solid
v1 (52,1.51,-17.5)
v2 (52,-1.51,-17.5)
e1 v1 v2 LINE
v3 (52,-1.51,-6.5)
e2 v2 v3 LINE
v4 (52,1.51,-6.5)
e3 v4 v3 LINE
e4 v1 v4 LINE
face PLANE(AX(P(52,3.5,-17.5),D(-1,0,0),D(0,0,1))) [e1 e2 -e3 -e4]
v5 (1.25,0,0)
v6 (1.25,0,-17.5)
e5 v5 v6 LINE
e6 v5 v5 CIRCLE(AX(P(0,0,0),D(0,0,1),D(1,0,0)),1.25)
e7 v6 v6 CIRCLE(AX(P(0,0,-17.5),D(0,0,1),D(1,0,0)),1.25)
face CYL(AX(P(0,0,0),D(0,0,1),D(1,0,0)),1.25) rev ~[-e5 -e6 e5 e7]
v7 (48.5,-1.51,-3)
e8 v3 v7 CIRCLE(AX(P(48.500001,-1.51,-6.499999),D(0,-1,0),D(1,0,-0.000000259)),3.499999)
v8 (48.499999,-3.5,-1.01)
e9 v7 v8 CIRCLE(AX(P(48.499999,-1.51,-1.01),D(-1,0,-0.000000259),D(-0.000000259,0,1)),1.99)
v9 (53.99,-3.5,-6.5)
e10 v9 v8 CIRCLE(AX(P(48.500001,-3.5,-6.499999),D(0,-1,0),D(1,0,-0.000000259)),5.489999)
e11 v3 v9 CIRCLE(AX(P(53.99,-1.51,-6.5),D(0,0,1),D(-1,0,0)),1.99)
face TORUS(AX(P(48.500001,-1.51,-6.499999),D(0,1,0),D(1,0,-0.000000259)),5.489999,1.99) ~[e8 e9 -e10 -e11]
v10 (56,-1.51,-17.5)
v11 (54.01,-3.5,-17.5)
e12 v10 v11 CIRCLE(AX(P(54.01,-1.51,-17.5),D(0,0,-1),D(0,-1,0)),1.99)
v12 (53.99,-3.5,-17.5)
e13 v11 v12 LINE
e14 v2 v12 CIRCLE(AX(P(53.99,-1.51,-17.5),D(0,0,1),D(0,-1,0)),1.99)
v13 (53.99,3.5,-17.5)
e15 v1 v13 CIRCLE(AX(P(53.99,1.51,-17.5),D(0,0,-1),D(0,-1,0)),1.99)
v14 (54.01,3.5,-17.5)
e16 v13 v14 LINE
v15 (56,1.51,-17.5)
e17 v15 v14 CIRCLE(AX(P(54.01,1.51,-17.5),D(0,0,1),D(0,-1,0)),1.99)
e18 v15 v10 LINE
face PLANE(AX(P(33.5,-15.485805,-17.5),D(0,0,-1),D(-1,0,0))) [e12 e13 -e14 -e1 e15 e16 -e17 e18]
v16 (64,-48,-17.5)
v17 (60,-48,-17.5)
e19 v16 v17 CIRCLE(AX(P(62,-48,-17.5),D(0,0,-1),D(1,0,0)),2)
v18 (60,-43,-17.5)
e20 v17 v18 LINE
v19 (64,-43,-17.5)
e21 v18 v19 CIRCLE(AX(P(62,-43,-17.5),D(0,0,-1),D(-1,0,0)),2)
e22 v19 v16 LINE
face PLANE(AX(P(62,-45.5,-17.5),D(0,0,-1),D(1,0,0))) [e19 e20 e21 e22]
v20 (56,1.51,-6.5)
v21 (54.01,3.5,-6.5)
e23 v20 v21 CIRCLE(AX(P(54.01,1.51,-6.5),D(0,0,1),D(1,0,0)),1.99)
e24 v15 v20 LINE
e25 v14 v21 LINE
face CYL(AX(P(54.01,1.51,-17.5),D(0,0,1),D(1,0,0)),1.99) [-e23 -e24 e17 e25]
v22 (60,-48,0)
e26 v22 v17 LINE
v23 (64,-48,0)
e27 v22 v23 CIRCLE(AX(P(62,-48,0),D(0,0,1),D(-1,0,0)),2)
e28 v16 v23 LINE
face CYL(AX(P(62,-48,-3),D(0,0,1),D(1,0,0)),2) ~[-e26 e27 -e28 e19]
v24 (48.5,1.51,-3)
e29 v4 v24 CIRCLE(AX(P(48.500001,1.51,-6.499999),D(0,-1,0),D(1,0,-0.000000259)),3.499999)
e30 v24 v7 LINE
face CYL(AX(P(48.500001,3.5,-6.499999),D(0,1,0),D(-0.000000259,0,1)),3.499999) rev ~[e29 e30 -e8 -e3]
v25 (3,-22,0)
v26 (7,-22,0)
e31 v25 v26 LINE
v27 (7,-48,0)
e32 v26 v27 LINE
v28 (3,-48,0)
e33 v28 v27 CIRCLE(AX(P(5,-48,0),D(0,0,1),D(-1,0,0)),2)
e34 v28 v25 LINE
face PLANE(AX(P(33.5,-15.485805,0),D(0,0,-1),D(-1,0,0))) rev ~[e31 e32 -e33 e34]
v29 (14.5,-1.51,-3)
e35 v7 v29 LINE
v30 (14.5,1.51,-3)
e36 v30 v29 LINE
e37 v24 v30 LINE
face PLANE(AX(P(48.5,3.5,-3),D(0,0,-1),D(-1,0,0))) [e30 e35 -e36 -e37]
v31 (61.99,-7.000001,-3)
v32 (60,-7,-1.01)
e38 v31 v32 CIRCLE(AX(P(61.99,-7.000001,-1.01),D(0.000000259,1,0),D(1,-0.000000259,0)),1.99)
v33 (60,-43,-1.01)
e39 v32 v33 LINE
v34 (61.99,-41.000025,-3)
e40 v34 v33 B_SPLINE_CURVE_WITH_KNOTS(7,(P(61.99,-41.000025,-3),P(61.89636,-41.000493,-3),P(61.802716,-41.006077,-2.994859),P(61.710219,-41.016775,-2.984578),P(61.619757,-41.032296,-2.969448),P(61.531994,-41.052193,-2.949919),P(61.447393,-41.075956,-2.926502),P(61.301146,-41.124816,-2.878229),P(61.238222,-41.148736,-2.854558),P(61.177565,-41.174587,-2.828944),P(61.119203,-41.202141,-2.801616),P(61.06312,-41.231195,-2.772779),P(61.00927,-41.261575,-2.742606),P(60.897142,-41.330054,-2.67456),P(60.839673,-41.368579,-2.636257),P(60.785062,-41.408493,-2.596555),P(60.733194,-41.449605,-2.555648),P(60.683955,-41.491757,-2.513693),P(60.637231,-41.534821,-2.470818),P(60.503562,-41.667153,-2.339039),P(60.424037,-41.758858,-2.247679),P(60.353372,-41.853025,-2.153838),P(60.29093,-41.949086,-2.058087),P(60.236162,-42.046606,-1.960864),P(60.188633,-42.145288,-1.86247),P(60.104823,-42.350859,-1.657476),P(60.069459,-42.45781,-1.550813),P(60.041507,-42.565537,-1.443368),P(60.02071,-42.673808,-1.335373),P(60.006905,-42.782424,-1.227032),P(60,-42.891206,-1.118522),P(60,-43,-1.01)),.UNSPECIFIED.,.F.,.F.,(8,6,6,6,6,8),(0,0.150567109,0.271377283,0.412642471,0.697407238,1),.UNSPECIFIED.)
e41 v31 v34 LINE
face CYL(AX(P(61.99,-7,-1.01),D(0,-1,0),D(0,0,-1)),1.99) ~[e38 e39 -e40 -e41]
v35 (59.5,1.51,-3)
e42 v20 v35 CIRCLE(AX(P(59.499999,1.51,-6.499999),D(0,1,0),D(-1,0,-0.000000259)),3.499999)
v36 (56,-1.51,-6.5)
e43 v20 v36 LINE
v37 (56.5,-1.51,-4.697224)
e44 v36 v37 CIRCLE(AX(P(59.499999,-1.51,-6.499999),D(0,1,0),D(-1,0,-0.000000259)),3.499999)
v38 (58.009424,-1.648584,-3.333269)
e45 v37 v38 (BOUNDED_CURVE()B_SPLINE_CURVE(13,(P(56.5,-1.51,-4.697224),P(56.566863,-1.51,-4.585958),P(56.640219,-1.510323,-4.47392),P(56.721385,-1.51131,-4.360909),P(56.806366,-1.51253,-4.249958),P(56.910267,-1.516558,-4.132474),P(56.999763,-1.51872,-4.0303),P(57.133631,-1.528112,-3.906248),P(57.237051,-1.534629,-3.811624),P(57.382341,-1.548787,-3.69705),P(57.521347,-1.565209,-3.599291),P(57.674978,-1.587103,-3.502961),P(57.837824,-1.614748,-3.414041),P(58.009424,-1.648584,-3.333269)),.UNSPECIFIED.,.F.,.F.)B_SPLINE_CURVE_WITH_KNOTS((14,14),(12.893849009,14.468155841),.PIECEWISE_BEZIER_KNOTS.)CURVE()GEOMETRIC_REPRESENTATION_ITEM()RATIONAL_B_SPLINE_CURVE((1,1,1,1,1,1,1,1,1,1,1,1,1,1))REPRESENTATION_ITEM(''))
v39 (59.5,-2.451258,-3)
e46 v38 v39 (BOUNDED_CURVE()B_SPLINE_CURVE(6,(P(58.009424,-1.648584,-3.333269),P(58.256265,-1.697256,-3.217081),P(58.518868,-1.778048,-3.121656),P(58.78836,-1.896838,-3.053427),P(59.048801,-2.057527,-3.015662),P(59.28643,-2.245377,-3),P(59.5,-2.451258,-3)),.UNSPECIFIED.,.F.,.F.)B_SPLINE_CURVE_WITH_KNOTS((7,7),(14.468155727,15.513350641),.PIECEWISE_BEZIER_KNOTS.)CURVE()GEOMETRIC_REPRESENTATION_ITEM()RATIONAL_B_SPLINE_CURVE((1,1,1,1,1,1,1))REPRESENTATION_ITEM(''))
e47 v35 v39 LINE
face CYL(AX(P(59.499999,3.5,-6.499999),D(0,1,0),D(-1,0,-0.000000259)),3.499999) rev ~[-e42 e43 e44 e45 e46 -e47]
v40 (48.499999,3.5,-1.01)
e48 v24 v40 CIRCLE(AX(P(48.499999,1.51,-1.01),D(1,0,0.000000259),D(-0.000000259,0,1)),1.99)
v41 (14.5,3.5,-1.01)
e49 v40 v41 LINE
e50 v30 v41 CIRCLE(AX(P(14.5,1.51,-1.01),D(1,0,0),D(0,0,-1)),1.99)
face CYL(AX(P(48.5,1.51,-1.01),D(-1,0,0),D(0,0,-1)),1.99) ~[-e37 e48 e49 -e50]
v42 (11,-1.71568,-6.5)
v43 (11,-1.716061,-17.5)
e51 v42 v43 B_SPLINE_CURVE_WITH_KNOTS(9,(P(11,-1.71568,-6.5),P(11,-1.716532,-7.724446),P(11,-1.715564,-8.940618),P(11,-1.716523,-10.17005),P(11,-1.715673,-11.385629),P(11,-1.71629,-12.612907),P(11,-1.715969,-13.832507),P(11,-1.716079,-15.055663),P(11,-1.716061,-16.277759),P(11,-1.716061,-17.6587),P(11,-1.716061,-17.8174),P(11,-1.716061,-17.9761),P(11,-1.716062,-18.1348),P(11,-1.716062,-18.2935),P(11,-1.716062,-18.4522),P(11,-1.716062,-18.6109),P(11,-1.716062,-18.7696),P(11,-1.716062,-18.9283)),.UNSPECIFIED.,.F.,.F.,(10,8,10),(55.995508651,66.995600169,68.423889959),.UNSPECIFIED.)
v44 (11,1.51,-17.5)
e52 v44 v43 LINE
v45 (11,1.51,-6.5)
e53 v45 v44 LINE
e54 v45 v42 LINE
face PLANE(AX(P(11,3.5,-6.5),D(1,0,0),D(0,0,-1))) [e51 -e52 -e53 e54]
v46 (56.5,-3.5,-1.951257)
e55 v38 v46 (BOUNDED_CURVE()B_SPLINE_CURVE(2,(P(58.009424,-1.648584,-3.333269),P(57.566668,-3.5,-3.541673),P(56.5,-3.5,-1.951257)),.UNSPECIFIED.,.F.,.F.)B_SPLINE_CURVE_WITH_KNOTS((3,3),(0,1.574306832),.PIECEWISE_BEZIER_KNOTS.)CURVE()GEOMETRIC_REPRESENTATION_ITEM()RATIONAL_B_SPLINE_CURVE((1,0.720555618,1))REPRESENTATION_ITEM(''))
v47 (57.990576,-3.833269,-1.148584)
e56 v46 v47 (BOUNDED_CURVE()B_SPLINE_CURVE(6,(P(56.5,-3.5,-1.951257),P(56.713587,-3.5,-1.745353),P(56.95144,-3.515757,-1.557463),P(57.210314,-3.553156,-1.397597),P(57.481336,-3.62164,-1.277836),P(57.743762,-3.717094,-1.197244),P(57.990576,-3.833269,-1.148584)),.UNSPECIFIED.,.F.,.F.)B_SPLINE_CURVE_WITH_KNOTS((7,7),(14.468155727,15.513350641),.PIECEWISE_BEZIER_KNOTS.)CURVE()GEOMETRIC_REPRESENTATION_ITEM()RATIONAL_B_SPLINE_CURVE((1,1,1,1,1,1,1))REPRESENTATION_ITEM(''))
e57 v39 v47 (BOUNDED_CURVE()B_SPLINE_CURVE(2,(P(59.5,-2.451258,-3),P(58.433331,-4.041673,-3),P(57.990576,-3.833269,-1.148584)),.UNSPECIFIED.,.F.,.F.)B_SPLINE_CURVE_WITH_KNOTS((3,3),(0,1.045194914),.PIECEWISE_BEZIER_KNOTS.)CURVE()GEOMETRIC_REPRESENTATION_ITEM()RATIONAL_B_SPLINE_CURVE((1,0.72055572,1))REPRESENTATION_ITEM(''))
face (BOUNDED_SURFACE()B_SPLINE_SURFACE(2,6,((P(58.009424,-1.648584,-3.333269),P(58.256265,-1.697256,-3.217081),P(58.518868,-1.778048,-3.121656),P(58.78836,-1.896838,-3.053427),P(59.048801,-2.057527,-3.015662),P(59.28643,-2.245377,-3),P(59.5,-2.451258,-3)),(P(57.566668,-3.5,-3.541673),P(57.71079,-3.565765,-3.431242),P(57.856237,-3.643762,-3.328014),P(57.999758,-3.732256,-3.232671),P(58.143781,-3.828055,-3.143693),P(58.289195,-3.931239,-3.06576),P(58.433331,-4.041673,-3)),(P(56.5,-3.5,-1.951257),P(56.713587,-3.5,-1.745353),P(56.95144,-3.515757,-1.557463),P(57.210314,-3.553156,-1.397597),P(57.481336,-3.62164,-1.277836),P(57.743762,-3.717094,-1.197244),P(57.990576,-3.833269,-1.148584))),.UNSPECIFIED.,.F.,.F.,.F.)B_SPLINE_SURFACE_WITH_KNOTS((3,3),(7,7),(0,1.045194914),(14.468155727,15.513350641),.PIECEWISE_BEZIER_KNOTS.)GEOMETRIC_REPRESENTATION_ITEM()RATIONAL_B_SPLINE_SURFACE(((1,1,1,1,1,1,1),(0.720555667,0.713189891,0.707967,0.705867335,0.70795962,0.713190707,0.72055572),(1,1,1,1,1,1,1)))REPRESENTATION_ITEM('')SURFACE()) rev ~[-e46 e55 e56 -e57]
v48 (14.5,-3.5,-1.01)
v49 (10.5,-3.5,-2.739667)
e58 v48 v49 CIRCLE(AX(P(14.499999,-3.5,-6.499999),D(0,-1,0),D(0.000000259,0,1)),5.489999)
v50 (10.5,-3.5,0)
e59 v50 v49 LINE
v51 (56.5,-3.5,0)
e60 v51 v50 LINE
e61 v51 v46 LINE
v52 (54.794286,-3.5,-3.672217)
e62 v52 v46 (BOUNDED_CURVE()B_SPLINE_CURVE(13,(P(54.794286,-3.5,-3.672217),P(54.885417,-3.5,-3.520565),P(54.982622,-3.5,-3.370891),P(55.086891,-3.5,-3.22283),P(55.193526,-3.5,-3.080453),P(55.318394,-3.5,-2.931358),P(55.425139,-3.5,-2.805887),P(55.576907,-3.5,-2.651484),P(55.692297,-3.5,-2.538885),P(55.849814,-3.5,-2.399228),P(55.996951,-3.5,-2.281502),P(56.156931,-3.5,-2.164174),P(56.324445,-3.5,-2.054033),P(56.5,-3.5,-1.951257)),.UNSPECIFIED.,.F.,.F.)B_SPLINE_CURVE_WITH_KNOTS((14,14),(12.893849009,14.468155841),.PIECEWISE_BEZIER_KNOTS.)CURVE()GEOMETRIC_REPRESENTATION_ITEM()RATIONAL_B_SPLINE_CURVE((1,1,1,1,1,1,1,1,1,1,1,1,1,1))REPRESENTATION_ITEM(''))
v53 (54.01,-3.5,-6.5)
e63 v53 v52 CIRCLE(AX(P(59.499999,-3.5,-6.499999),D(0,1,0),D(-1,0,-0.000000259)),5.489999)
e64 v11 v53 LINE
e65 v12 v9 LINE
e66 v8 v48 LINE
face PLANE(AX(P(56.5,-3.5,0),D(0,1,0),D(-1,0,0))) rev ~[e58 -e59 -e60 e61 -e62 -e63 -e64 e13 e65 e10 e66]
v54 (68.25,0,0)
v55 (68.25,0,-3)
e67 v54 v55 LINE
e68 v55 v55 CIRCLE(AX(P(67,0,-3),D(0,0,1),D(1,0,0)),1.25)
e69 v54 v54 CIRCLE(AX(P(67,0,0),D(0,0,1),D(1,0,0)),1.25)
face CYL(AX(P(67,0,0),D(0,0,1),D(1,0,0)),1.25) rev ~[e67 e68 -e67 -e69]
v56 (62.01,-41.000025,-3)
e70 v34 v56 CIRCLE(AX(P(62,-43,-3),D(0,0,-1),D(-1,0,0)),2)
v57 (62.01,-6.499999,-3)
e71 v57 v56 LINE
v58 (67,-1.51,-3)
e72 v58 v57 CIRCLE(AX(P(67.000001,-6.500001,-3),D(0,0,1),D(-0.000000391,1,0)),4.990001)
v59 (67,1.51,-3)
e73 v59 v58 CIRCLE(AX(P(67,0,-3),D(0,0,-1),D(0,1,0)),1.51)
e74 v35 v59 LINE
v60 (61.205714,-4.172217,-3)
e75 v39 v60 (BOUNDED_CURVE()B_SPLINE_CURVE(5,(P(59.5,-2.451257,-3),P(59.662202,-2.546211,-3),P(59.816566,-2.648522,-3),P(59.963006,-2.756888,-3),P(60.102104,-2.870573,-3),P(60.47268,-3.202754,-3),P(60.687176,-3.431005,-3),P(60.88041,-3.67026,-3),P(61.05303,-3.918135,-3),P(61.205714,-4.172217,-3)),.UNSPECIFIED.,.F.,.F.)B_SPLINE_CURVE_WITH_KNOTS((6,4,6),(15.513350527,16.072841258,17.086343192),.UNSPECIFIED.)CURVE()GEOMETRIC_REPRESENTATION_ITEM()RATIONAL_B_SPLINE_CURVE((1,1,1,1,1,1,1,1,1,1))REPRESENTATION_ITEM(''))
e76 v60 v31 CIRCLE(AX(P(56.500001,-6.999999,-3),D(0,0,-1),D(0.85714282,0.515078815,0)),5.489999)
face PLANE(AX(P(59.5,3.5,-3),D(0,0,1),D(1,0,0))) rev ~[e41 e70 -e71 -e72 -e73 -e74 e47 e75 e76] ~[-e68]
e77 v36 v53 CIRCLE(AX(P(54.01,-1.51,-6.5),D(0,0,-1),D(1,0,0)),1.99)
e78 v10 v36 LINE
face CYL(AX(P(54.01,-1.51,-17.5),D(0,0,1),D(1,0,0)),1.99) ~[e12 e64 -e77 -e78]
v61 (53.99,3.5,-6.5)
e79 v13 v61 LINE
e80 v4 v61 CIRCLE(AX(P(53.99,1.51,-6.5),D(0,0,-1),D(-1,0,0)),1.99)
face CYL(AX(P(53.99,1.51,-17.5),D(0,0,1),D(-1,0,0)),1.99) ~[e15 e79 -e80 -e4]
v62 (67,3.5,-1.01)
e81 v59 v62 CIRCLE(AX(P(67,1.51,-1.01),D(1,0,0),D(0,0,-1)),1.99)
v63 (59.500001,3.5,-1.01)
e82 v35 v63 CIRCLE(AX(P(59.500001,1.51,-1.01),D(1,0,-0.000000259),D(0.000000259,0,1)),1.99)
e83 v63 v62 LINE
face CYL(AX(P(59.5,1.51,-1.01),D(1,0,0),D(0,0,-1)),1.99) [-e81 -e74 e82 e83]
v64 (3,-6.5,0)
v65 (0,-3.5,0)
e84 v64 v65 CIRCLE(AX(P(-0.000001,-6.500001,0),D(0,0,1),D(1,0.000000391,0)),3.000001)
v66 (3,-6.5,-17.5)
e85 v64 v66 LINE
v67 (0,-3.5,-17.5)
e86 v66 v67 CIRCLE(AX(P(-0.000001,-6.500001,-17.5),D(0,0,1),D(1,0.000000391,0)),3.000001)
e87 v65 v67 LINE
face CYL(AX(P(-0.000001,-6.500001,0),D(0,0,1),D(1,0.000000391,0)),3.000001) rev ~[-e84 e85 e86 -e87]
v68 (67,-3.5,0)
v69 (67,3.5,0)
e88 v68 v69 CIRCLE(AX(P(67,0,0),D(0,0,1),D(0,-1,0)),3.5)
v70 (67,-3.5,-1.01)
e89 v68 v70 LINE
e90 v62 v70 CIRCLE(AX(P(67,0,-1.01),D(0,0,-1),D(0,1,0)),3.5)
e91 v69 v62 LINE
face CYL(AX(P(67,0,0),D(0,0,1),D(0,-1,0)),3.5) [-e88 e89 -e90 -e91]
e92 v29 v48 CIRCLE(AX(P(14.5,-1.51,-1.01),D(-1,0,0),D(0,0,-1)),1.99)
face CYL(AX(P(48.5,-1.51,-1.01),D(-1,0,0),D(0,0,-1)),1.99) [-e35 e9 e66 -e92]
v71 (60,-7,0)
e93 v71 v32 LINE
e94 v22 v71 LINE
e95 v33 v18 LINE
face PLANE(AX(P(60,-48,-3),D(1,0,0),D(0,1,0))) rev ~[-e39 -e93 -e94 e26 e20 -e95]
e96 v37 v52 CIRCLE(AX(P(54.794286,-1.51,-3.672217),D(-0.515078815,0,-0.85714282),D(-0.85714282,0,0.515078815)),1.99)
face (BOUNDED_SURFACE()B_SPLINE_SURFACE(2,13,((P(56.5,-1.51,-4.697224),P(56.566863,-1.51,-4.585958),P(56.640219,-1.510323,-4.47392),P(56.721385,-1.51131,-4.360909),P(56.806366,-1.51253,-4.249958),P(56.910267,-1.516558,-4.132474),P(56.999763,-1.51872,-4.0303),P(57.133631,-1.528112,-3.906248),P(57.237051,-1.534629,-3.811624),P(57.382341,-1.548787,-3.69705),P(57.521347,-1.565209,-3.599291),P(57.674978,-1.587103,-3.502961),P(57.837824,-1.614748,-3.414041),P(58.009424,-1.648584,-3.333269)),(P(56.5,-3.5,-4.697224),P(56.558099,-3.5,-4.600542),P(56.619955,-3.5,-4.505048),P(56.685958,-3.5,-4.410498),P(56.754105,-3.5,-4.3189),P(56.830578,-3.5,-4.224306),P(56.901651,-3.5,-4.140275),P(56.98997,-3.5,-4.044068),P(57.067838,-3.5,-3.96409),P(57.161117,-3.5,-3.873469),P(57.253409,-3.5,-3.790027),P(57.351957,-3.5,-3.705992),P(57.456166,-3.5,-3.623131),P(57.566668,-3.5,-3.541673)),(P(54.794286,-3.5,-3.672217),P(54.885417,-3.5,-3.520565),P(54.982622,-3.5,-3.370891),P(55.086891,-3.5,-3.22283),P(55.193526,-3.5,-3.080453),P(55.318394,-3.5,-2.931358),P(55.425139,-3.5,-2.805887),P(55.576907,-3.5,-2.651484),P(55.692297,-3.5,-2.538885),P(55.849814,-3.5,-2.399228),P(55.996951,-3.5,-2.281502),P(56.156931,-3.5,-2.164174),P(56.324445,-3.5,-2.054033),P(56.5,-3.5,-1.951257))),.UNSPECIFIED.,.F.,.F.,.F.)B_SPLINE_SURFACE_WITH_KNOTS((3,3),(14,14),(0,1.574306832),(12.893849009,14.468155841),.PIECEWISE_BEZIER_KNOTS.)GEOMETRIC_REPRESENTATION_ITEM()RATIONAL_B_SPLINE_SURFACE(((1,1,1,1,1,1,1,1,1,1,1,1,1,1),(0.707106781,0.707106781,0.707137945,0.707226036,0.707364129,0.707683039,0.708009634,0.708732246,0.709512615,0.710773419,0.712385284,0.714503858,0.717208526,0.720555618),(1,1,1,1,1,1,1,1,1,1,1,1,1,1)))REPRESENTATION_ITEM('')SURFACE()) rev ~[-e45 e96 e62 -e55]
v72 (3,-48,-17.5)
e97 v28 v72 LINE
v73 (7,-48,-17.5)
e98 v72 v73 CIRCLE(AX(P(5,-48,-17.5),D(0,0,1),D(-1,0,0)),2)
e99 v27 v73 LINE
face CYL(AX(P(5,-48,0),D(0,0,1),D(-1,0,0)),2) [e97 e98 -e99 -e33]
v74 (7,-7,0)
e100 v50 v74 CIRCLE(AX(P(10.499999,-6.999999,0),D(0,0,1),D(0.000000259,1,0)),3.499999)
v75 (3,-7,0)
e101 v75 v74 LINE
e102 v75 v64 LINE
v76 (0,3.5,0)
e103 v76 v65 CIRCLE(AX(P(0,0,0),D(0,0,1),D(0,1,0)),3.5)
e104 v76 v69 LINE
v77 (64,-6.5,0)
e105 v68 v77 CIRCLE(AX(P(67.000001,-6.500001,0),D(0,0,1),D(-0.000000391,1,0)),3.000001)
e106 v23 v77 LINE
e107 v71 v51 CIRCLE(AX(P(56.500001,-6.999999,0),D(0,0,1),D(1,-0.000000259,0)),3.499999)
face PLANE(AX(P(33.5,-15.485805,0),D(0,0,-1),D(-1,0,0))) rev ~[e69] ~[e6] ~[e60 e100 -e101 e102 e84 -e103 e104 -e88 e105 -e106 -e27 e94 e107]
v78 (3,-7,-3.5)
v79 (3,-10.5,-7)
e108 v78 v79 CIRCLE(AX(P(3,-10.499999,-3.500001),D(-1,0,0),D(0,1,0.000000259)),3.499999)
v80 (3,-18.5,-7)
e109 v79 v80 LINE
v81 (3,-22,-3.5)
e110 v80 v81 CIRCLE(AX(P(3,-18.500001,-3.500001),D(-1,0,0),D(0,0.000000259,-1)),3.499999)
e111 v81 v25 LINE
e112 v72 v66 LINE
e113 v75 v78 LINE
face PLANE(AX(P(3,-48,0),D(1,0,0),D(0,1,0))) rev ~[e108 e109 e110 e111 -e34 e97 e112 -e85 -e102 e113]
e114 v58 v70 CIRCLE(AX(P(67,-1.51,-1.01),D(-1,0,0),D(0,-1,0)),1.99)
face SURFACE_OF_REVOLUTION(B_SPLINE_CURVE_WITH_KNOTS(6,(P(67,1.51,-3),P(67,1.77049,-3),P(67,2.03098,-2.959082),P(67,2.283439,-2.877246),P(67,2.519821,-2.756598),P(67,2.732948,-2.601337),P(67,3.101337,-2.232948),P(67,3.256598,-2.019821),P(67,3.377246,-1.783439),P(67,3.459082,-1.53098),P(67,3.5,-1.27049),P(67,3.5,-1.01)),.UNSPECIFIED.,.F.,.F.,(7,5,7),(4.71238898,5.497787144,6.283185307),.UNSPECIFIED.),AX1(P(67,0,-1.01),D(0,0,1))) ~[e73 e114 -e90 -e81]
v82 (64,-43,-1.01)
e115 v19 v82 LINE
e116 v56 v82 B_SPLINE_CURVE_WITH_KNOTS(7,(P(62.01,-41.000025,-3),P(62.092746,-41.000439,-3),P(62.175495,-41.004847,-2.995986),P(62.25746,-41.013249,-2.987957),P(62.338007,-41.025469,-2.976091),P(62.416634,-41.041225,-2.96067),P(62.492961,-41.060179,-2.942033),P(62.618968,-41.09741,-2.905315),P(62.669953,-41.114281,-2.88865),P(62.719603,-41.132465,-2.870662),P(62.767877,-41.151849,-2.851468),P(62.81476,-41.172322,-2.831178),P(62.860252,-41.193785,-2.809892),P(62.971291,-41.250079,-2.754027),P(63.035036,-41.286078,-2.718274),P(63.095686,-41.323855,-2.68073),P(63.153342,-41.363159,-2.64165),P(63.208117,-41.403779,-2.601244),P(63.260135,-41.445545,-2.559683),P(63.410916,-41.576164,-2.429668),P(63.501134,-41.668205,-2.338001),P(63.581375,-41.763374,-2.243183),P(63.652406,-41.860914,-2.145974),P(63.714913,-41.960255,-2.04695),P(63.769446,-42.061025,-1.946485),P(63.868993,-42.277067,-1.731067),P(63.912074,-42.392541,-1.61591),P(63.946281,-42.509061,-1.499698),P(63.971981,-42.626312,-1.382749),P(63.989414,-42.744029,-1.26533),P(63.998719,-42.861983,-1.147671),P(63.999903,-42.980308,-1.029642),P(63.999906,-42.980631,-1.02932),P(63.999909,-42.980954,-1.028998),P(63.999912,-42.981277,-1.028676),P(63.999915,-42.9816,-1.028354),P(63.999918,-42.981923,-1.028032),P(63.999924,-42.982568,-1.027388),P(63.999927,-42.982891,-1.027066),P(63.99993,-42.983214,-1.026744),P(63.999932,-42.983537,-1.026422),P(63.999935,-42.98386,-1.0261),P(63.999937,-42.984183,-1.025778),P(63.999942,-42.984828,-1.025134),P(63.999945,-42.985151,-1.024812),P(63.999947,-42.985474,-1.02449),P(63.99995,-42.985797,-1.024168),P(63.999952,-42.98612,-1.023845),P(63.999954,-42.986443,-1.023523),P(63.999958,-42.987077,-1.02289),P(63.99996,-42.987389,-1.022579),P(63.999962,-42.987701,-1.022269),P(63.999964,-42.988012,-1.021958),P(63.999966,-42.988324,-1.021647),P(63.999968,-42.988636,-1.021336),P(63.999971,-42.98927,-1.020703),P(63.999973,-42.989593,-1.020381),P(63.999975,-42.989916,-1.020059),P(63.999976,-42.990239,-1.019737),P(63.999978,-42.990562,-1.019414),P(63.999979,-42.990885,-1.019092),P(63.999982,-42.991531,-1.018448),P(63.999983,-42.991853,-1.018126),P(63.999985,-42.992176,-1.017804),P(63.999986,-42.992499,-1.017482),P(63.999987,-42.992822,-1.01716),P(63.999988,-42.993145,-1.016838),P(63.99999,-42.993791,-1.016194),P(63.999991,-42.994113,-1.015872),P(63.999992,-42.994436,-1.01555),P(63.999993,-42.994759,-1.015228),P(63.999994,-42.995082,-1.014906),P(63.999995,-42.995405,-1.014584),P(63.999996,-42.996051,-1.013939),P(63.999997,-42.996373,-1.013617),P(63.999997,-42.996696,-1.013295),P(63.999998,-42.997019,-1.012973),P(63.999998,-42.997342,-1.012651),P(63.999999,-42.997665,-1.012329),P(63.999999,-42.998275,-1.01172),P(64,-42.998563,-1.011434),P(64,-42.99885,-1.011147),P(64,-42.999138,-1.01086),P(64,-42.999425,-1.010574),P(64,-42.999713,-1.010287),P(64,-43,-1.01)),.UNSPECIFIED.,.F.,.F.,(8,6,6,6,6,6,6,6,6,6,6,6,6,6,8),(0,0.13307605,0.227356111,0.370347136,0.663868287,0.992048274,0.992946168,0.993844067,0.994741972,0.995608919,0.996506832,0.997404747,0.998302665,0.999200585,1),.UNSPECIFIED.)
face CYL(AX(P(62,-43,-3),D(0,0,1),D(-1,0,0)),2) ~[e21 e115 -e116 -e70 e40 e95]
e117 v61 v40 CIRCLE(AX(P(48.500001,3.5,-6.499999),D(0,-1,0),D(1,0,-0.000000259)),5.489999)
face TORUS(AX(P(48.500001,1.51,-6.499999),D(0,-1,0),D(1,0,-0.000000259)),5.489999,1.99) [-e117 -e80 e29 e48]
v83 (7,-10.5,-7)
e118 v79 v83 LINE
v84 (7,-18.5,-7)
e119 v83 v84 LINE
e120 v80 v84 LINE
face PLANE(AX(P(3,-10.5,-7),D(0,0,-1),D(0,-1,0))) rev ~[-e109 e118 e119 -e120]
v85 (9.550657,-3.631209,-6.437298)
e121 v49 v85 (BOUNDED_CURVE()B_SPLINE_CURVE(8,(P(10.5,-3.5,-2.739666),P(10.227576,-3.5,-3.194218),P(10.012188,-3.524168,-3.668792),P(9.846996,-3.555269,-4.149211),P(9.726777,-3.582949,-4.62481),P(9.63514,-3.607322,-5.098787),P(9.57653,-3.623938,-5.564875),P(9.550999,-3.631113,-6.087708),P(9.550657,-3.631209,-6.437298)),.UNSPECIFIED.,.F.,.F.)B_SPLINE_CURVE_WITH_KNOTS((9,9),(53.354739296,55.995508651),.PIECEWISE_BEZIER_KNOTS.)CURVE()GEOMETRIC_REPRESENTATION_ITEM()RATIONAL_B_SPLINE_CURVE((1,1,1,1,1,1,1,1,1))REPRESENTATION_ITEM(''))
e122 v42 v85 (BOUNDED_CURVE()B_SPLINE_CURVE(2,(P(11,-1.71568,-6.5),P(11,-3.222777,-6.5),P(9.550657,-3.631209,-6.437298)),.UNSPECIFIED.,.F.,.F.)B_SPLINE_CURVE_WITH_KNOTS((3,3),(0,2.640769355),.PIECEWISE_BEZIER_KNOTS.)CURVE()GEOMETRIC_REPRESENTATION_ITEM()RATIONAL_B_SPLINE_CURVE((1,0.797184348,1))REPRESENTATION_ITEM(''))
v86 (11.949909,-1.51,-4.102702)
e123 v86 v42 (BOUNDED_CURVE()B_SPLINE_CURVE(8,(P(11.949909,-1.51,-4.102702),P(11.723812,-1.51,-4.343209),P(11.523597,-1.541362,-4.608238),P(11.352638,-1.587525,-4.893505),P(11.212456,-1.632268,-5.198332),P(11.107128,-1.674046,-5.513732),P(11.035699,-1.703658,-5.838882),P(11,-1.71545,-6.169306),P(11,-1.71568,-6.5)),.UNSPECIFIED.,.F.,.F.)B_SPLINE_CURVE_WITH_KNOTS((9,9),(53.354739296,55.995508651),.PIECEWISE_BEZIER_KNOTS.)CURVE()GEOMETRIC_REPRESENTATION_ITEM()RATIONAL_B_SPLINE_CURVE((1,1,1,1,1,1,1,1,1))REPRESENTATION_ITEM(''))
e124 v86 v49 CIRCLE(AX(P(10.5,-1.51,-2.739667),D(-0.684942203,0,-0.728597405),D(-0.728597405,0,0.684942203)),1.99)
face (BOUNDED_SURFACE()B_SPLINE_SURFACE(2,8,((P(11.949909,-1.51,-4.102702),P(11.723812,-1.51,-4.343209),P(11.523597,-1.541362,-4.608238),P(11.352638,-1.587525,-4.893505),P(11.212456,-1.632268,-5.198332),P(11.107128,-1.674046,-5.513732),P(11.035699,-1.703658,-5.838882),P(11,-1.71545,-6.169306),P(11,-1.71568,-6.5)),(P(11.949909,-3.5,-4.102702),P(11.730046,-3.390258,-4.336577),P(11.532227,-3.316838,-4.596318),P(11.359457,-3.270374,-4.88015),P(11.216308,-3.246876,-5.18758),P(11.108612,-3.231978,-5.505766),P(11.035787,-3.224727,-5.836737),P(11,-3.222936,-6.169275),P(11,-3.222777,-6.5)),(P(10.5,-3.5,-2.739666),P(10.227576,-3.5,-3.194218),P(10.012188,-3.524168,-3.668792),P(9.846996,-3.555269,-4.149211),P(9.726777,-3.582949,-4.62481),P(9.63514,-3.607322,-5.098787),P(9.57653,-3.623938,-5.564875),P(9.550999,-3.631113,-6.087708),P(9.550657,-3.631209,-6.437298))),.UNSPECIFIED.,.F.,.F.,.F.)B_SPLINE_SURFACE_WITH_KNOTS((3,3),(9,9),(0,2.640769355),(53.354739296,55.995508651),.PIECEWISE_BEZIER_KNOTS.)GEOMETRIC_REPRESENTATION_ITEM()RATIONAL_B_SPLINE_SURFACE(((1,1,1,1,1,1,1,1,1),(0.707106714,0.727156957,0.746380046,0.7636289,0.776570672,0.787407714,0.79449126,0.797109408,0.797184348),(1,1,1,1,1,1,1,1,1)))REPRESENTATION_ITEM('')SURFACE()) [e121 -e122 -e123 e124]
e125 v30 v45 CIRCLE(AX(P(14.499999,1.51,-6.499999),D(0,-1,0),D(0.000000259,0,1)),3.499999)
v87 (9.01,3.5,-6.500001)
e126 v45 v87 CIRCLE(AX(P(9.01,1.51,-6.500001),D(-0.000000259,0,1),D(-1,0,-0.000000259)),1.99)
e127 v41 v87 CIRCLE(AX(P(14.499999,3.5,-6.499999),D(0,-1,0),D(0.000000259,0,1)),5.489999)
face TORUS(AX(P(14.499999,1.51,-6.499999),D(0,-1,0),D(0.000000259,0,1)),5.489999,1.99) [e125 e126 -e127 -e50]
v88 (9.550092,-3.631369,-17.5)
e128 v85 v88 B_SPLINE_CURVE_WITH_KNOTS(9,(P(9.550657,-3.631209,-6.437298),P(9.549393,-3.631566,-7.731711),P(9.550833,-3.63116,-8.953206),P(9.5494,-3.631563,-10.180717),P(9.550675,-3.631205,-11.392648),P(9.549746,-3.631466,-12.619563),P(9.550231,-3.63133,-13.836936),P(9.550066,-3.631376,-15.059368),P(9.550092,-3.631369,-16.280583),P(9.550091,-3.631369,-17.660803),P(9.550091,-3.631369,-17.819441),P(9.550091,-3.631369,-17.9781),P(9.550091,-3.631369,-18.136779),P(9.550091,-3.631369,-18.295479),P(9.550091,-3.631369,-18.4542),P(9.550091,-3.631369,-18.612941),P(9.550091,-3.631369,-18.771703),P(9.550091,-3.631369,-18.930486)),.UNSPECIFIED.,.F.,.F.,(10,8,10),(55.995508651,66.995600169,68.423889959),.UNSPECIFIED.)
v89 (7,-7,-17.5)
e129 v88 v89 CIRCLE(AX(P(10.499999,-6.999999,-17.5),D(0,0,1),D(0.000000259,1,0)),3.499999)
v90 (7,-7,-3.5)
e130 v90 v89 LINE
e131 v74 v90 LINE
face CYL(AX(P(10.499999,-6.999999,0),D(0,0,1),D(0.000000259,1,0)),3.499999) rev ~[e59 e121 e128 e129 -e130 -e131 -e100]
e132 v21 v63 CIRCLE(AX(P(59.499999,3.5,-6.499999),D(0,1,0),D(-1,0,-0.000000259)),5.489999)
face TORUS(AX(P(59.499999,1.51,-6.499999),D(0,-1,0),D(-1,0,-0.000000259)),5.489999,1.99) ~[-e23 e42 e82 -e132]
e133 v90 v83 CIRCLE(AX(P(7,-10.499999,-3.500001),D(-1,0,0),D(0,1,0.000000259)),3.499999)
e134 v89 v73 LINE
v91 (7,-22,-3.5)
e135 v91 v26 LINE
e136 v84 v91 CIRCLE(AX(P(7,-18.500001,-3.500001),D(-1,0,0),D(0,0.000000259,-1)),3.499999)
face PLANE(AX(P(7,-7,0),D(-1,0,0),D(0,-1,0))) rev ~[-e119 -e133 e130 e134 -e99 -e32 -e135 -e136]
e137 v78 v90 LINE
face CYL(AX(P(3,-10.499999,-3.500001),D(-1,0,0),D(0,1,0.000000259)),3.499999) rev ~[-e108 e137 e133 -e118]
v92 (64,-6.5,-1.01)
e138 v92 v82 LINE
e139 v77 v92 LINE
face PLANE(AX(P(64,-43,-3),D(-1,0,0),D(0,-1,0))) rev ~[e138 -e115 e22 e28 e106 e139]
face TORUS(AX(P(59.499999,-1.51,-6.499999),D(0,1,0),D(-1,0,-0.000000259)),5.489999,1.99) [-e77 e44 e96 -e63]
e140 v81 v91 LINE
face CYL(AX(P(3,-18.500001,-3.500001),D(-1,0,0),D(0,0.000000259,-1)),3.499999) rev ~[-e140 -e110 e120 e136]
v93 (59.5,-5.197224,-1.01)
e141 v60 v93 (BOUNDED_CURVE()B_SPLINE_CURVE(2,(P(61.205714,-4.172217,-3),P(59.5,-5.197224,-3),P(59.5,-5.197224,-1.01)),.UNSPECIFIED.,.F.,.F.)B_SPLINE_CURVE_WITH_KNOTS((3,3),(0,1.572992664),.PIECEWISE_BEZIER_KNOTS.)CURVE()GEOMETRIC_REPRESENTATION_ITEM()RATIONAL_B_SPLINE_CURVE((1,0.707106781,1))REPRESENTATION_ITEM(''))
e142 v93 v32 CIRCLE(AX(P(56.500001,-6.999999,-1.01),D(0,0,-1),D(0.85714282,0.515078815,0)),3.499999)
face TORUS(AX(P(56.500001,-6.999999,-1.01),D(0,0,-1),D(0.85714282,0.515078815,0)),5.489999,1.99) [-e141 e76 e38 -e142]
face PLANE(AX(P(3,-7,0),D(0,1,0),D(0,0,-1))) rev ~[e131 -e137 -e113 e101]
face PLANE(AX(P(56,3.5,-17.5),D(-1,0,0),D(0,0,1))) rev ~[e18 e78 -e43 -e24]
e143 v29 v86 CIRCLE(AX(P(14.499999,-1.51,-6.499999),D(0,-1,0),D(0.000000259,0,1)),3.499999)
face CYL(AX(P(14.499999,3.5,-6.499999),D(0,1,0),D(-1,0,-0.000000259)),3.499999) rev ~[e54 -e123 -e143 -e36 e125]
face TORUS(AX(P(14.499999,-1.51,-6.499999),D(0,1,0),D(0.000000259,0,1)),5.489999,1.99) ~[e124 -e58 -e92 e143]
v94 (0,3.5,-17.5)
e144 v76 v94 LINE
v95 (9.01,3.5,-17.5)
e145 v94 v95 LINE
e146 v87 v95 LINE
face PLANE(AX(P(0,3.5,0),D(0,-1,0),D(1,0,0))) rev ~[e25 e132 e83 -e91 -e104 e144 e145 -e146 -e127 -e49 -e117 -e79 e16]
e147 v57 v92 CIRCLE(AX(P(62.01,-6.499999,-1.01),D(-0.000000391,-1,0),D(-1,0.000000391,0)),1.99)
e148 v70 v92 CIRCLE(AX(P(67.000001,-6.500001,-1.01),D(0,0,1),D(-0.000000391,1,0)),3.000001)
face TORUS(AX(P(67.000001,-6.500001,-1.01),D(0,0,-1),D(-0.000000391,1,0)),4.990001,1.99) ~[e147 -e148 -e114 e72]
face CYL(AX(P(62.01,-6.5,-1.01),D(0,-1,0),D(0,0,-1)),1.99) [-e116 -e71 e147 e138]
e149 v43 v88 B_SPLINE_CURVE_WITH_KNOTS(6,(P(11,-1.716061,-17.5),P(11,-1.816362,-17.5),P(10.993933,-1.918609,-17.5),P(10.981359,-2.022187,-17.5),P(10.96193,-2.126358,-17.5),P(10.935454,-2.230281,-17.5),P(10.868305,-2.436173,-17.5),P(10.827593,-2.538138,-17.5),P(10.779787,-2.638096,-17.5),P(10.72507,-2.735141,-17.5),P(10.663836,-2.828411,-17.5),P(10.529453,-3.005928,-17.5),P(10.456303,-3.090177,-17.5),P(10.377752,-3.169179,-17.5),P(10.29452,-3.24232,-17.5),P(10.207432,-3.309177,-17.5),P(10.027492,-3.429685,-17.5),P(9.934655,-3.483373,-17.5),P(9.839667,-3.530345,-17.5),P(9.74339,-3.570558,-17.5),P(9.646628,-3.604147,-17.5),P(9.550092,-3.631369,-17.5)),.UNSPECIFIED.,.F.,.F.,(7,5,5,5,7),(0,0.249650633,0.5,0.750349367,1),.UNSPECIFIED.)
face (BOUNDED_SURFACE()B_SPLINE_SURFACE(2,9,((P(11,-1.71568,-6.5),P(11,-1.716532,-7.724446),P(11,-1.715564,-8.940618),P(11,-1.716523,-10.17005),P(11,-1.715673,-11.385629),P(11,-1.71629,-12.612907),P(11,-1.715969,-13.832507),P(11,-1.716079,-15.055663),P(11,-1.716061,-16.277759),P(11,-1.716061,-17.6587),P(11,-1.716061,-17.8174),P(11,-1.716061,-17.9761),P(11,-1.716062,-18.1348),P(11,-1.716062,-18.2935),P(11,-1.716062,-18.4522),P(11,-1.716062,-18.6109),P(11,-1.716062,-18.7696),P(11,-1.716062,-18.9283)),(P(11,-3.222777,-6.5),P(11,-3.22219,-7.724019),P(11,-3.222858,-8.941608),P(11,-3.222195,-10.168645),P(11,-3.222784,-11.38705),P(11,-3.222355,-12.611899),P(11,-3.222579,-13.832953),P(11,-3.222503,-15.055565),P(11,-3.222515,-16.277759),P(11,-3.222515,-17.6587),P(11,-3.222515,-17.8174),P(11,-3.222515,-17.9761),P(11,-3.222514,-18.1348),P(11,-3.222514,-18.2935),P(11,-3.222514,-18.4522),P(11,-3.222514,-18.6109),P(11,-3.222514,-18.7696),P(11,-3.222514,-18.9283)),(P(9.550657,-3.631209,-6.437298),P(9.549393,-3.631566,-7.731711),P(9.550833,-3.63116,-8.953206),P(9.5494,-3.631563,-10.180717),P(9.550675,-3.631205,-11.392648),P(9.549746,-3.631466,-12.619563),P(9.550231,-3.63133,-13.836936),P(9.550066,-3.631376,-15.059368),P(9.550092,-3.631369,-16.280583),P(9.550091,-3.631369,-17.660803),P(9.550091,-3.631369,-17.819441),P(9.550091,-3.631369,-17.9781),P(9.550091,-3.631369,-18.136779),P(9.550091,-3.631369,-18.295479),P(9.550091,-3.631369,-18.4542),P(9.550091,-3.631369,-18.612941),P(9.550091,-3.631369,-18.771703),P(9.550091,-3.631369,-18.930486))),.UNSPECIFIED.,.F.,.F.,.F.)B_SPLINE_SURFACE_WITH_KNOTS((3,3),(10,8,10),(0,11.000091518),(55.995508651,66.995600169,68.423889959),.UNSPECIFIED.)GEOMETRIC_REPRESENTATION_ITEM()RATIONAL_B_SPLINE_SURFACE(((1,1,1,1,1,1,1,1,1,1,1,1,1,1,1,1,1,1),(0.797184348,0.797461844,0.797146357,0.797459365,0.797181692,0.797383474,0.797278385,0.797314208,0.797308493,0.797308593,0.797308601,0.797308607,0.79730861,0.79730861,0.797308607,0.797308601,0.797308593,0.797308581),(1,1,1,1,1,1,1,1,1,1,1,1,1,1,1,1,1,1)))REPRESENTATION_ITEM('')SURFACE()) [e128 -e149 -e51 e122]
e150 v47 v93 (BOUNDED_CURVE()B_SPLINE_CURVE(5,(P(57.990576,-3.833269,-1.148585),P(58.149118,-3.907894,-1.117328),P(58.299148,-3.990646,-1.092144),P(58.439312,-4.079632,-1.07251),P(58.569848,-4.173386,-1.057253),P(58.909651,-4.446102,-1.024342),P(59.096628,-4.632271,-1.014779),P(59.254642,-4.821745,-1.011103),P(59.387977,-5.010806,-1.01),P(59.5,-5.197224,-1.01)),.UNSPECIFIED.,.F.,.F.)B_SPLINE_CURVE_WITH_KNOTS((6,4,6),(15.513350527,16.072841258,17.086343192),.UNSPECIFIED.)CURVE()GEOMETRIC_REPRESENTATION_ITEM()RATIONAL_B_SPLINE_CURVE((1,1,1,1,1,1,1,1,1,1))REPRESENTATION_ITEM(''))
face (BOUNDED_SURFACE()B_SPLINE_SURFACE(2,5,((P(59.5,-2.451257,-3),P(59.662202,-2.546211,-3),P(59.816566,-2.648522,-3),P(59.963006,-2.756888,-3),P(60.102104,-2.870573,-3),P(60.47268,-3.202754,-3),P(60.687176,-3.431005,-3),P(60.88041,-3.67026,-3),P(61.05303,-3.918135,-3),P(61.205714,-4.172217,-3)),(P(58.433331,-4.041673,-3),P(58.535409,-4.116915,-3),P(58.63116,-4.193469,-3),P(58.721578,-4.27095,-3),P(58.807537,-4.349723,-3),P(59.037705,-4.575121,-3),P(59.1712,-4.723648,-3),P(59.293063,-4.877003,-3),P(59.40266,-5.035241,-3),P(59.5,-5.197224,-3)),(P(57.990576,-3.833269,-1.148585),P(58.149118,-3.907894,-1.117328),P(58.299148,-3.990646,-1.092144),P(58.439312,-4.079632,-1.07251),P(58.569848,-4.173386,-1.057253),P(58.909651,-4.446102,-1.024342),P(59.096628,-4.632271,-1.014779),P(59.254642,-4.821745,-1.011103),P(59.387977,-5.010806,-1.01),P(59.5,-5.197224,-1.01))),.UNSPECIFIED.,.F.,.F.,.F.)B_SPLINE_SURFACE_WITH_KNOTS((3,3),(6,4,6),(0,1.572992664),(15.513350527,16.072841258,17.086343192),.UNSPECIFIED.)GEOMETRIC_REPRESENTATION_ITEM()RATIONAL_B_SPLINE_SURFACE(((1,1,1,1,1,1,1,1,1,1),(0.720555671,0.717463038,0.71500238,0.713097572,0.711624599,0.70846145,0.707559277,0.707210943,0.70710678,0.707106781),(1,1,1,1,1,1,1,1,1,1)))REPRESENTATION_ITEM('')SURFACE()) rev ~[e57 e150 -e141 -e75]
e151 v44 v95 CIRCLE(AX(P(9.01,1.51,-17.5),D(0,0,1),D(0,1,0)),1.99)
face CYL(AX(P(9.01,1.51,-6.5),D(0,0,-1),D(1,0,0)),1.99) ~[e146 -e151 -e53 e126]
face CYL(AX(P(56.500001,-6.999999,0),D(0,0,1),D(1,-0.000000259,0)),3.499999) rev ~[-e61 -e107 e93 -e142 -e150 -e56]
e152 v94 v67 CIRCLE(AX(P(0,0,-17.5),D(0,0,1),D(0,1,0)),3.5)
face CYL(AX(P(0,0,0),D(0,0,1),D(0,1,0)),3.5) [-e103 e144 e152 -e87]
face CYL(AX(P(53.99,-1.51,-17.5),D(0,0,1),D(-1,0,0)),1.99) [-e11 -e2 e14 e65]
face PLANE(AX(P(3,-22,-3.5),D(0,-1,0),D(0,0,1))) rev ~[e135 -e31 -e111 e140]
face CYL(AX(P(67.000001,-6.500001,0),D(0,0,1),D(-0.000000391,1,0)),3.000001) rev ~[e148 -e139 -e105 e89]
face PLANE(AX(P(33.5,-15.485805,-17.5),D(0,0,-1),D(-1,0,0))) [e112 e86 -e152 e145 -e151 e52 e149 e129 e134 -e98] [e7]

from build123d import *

# Parameters (mm, degrees)
SKETCH_R          = 1.25
PAD_DEPTH         = 17.5
POCKET_DEPTH      = 53.501
POCKET_DEPTH_BACK = 0.001
POCKET001_DEPTH   = 5
PAD001_DEPTH      = 14.5
FILLET_R          = 1.99


with BuildPart() as part:
    # Sketch → Pad (new body)
    with BuildSketch(Plane.XY):
        with BuildLine():
            Line((0, 3.5), (67, 3.5))
            ThreePointArc((67, -3.5), (70.5, 0), (67, 3.5))
            ThreePointArc((67, -3.5), (64.87868, -4.37868), (64, -6.5))
            Line((64, -48), (64, -6.5))
            ThreePointArc((60, -48), (62, -50), (64, -48))
            Line((60, -48), (60, -7))
            ThreePointArc((60, -7), (58.974874, -4.525126), (56.5, -3.5))
            Line((56.5, -3.5), (10.5, -3.5))
            ThreePointArc((10.5, -3.5), (8.025126, -4.525126), (7, -7))
            Line((7, -7), (7, -48))
            ThreePointArc((3, -48), (5, -50), (7, -48))
            Line((3, -48), (3, -6.5))
            ThreePointArc((3, -6.5), (2.12132, -4.37868), (0, -3.5))
            ThreePointArc((0, 3.5), (-3.5, 0), (0, -3.5))
        make_face()
        Circle(SKETCH_R, mode=Mode.SUBTRACT)
        with Locations((67, 0)):
            Circle(SKETCH_R, mode=Mode.SUBTRACT)
    extrude(amount=-PAD_DEPTH)

    # Sketch001 (on Face4 of Pad) → Pocket (cut, two sides)
    with BuildSketch(Plane(origin=(0, 3.5, 0), x_dir=(-1, 0, 0), z_dir=(0, 1, 0))) as pocket_sk:
        with BuildLine():
            Line((-11, -17.5), (-52, -17.5))
            Line((-52, -17.5), (-52, -6.5))
            ThreePointArc((-48.5, -3), (-50.974874, -4.025126), (-52, -6.5))
            Line((-48.5, -3), (-14.5, -3))
            ThreePointArc((-11, -6.5), (-12.025126, -4.025126), (-14.5, -3))
            Line((-11, -6.5), (-11, -17.5))
        make_face()
        with BuildLine():
            Line((-56, -17.5), (-56, -6.5))
            ThreePointArc((-56, -6.5), (-57.025126, -4.025126), (-59.5, -3))
            Line((-59.5, -3), (-70.5, -3))
            Line((-70.5, -3), (-70.5, -17.5))
            Line((-70.5, -17.5), (-56, -17.5))
        make_face()
    extrude(amount=-POCKET_DEPTH, mode=Mode.SUBTRACT)
    extrude(pocket_sk.sketch, amount=POCKET_DEPTH_BACK, mode=Mode.SUBTRACT)

    # Sketch002 (on Face1 of Pocket) → Pocket001 (cut)
    with BuildSketch(Plane(origin=(3, 0, 0), x_dir=(0, -1, 0), z_dir=(-1, 0, 0))):
        with BuildLine():
            Line((7, 0), (7, -3.5))
            ThreePointArc((7, -3.5), (8.025126, -5.974874), (10.5, -7))
            Line((10.5, -7), (18.5, -7))
            ThreePointArc((18.5, -7), (20.974874, -5.974874), (22, -3.5))
            Line((22, -3.5), (22, 0))
            Line((22, 0), (7, 0))
        make_face()
    extrude(amount=-POCKET001_DEPTH, mode=Mode.SUBTRACT)

    # Sketch003 (on Face26 of Pocket001) → Pad001 (join)
    with BuildSketch(Plane(origin=(0, 0, -3), x_dir=(1, 0, 0), z_dir=(0, 0, -1))):
        with BuildLine():
            ThreePointArc((64, 48), (62, 50), (60, 48))
            Line((60, 48), (60, 43))
            ThreePointArc((60, 43), (62, 41), (64, 43))
            Line((64, 43), (64, 48))
        make_face()
    extrude(amount=PAD001_DEPTH)

    # Fillet
    fillet_edges = [part.edges().sort_by_distance(p)[0] for p in [
        (11, -3.5, -12),
        (11, 3.5, -12),
        (56, 3.5, -12),
        (52, 3.5, -12),
        (56, -3.5, -12),
        (52, -3.5, -12),
    ]]
    fillet(fillet_edges, radius=FILLET_R)


solid = part.part
